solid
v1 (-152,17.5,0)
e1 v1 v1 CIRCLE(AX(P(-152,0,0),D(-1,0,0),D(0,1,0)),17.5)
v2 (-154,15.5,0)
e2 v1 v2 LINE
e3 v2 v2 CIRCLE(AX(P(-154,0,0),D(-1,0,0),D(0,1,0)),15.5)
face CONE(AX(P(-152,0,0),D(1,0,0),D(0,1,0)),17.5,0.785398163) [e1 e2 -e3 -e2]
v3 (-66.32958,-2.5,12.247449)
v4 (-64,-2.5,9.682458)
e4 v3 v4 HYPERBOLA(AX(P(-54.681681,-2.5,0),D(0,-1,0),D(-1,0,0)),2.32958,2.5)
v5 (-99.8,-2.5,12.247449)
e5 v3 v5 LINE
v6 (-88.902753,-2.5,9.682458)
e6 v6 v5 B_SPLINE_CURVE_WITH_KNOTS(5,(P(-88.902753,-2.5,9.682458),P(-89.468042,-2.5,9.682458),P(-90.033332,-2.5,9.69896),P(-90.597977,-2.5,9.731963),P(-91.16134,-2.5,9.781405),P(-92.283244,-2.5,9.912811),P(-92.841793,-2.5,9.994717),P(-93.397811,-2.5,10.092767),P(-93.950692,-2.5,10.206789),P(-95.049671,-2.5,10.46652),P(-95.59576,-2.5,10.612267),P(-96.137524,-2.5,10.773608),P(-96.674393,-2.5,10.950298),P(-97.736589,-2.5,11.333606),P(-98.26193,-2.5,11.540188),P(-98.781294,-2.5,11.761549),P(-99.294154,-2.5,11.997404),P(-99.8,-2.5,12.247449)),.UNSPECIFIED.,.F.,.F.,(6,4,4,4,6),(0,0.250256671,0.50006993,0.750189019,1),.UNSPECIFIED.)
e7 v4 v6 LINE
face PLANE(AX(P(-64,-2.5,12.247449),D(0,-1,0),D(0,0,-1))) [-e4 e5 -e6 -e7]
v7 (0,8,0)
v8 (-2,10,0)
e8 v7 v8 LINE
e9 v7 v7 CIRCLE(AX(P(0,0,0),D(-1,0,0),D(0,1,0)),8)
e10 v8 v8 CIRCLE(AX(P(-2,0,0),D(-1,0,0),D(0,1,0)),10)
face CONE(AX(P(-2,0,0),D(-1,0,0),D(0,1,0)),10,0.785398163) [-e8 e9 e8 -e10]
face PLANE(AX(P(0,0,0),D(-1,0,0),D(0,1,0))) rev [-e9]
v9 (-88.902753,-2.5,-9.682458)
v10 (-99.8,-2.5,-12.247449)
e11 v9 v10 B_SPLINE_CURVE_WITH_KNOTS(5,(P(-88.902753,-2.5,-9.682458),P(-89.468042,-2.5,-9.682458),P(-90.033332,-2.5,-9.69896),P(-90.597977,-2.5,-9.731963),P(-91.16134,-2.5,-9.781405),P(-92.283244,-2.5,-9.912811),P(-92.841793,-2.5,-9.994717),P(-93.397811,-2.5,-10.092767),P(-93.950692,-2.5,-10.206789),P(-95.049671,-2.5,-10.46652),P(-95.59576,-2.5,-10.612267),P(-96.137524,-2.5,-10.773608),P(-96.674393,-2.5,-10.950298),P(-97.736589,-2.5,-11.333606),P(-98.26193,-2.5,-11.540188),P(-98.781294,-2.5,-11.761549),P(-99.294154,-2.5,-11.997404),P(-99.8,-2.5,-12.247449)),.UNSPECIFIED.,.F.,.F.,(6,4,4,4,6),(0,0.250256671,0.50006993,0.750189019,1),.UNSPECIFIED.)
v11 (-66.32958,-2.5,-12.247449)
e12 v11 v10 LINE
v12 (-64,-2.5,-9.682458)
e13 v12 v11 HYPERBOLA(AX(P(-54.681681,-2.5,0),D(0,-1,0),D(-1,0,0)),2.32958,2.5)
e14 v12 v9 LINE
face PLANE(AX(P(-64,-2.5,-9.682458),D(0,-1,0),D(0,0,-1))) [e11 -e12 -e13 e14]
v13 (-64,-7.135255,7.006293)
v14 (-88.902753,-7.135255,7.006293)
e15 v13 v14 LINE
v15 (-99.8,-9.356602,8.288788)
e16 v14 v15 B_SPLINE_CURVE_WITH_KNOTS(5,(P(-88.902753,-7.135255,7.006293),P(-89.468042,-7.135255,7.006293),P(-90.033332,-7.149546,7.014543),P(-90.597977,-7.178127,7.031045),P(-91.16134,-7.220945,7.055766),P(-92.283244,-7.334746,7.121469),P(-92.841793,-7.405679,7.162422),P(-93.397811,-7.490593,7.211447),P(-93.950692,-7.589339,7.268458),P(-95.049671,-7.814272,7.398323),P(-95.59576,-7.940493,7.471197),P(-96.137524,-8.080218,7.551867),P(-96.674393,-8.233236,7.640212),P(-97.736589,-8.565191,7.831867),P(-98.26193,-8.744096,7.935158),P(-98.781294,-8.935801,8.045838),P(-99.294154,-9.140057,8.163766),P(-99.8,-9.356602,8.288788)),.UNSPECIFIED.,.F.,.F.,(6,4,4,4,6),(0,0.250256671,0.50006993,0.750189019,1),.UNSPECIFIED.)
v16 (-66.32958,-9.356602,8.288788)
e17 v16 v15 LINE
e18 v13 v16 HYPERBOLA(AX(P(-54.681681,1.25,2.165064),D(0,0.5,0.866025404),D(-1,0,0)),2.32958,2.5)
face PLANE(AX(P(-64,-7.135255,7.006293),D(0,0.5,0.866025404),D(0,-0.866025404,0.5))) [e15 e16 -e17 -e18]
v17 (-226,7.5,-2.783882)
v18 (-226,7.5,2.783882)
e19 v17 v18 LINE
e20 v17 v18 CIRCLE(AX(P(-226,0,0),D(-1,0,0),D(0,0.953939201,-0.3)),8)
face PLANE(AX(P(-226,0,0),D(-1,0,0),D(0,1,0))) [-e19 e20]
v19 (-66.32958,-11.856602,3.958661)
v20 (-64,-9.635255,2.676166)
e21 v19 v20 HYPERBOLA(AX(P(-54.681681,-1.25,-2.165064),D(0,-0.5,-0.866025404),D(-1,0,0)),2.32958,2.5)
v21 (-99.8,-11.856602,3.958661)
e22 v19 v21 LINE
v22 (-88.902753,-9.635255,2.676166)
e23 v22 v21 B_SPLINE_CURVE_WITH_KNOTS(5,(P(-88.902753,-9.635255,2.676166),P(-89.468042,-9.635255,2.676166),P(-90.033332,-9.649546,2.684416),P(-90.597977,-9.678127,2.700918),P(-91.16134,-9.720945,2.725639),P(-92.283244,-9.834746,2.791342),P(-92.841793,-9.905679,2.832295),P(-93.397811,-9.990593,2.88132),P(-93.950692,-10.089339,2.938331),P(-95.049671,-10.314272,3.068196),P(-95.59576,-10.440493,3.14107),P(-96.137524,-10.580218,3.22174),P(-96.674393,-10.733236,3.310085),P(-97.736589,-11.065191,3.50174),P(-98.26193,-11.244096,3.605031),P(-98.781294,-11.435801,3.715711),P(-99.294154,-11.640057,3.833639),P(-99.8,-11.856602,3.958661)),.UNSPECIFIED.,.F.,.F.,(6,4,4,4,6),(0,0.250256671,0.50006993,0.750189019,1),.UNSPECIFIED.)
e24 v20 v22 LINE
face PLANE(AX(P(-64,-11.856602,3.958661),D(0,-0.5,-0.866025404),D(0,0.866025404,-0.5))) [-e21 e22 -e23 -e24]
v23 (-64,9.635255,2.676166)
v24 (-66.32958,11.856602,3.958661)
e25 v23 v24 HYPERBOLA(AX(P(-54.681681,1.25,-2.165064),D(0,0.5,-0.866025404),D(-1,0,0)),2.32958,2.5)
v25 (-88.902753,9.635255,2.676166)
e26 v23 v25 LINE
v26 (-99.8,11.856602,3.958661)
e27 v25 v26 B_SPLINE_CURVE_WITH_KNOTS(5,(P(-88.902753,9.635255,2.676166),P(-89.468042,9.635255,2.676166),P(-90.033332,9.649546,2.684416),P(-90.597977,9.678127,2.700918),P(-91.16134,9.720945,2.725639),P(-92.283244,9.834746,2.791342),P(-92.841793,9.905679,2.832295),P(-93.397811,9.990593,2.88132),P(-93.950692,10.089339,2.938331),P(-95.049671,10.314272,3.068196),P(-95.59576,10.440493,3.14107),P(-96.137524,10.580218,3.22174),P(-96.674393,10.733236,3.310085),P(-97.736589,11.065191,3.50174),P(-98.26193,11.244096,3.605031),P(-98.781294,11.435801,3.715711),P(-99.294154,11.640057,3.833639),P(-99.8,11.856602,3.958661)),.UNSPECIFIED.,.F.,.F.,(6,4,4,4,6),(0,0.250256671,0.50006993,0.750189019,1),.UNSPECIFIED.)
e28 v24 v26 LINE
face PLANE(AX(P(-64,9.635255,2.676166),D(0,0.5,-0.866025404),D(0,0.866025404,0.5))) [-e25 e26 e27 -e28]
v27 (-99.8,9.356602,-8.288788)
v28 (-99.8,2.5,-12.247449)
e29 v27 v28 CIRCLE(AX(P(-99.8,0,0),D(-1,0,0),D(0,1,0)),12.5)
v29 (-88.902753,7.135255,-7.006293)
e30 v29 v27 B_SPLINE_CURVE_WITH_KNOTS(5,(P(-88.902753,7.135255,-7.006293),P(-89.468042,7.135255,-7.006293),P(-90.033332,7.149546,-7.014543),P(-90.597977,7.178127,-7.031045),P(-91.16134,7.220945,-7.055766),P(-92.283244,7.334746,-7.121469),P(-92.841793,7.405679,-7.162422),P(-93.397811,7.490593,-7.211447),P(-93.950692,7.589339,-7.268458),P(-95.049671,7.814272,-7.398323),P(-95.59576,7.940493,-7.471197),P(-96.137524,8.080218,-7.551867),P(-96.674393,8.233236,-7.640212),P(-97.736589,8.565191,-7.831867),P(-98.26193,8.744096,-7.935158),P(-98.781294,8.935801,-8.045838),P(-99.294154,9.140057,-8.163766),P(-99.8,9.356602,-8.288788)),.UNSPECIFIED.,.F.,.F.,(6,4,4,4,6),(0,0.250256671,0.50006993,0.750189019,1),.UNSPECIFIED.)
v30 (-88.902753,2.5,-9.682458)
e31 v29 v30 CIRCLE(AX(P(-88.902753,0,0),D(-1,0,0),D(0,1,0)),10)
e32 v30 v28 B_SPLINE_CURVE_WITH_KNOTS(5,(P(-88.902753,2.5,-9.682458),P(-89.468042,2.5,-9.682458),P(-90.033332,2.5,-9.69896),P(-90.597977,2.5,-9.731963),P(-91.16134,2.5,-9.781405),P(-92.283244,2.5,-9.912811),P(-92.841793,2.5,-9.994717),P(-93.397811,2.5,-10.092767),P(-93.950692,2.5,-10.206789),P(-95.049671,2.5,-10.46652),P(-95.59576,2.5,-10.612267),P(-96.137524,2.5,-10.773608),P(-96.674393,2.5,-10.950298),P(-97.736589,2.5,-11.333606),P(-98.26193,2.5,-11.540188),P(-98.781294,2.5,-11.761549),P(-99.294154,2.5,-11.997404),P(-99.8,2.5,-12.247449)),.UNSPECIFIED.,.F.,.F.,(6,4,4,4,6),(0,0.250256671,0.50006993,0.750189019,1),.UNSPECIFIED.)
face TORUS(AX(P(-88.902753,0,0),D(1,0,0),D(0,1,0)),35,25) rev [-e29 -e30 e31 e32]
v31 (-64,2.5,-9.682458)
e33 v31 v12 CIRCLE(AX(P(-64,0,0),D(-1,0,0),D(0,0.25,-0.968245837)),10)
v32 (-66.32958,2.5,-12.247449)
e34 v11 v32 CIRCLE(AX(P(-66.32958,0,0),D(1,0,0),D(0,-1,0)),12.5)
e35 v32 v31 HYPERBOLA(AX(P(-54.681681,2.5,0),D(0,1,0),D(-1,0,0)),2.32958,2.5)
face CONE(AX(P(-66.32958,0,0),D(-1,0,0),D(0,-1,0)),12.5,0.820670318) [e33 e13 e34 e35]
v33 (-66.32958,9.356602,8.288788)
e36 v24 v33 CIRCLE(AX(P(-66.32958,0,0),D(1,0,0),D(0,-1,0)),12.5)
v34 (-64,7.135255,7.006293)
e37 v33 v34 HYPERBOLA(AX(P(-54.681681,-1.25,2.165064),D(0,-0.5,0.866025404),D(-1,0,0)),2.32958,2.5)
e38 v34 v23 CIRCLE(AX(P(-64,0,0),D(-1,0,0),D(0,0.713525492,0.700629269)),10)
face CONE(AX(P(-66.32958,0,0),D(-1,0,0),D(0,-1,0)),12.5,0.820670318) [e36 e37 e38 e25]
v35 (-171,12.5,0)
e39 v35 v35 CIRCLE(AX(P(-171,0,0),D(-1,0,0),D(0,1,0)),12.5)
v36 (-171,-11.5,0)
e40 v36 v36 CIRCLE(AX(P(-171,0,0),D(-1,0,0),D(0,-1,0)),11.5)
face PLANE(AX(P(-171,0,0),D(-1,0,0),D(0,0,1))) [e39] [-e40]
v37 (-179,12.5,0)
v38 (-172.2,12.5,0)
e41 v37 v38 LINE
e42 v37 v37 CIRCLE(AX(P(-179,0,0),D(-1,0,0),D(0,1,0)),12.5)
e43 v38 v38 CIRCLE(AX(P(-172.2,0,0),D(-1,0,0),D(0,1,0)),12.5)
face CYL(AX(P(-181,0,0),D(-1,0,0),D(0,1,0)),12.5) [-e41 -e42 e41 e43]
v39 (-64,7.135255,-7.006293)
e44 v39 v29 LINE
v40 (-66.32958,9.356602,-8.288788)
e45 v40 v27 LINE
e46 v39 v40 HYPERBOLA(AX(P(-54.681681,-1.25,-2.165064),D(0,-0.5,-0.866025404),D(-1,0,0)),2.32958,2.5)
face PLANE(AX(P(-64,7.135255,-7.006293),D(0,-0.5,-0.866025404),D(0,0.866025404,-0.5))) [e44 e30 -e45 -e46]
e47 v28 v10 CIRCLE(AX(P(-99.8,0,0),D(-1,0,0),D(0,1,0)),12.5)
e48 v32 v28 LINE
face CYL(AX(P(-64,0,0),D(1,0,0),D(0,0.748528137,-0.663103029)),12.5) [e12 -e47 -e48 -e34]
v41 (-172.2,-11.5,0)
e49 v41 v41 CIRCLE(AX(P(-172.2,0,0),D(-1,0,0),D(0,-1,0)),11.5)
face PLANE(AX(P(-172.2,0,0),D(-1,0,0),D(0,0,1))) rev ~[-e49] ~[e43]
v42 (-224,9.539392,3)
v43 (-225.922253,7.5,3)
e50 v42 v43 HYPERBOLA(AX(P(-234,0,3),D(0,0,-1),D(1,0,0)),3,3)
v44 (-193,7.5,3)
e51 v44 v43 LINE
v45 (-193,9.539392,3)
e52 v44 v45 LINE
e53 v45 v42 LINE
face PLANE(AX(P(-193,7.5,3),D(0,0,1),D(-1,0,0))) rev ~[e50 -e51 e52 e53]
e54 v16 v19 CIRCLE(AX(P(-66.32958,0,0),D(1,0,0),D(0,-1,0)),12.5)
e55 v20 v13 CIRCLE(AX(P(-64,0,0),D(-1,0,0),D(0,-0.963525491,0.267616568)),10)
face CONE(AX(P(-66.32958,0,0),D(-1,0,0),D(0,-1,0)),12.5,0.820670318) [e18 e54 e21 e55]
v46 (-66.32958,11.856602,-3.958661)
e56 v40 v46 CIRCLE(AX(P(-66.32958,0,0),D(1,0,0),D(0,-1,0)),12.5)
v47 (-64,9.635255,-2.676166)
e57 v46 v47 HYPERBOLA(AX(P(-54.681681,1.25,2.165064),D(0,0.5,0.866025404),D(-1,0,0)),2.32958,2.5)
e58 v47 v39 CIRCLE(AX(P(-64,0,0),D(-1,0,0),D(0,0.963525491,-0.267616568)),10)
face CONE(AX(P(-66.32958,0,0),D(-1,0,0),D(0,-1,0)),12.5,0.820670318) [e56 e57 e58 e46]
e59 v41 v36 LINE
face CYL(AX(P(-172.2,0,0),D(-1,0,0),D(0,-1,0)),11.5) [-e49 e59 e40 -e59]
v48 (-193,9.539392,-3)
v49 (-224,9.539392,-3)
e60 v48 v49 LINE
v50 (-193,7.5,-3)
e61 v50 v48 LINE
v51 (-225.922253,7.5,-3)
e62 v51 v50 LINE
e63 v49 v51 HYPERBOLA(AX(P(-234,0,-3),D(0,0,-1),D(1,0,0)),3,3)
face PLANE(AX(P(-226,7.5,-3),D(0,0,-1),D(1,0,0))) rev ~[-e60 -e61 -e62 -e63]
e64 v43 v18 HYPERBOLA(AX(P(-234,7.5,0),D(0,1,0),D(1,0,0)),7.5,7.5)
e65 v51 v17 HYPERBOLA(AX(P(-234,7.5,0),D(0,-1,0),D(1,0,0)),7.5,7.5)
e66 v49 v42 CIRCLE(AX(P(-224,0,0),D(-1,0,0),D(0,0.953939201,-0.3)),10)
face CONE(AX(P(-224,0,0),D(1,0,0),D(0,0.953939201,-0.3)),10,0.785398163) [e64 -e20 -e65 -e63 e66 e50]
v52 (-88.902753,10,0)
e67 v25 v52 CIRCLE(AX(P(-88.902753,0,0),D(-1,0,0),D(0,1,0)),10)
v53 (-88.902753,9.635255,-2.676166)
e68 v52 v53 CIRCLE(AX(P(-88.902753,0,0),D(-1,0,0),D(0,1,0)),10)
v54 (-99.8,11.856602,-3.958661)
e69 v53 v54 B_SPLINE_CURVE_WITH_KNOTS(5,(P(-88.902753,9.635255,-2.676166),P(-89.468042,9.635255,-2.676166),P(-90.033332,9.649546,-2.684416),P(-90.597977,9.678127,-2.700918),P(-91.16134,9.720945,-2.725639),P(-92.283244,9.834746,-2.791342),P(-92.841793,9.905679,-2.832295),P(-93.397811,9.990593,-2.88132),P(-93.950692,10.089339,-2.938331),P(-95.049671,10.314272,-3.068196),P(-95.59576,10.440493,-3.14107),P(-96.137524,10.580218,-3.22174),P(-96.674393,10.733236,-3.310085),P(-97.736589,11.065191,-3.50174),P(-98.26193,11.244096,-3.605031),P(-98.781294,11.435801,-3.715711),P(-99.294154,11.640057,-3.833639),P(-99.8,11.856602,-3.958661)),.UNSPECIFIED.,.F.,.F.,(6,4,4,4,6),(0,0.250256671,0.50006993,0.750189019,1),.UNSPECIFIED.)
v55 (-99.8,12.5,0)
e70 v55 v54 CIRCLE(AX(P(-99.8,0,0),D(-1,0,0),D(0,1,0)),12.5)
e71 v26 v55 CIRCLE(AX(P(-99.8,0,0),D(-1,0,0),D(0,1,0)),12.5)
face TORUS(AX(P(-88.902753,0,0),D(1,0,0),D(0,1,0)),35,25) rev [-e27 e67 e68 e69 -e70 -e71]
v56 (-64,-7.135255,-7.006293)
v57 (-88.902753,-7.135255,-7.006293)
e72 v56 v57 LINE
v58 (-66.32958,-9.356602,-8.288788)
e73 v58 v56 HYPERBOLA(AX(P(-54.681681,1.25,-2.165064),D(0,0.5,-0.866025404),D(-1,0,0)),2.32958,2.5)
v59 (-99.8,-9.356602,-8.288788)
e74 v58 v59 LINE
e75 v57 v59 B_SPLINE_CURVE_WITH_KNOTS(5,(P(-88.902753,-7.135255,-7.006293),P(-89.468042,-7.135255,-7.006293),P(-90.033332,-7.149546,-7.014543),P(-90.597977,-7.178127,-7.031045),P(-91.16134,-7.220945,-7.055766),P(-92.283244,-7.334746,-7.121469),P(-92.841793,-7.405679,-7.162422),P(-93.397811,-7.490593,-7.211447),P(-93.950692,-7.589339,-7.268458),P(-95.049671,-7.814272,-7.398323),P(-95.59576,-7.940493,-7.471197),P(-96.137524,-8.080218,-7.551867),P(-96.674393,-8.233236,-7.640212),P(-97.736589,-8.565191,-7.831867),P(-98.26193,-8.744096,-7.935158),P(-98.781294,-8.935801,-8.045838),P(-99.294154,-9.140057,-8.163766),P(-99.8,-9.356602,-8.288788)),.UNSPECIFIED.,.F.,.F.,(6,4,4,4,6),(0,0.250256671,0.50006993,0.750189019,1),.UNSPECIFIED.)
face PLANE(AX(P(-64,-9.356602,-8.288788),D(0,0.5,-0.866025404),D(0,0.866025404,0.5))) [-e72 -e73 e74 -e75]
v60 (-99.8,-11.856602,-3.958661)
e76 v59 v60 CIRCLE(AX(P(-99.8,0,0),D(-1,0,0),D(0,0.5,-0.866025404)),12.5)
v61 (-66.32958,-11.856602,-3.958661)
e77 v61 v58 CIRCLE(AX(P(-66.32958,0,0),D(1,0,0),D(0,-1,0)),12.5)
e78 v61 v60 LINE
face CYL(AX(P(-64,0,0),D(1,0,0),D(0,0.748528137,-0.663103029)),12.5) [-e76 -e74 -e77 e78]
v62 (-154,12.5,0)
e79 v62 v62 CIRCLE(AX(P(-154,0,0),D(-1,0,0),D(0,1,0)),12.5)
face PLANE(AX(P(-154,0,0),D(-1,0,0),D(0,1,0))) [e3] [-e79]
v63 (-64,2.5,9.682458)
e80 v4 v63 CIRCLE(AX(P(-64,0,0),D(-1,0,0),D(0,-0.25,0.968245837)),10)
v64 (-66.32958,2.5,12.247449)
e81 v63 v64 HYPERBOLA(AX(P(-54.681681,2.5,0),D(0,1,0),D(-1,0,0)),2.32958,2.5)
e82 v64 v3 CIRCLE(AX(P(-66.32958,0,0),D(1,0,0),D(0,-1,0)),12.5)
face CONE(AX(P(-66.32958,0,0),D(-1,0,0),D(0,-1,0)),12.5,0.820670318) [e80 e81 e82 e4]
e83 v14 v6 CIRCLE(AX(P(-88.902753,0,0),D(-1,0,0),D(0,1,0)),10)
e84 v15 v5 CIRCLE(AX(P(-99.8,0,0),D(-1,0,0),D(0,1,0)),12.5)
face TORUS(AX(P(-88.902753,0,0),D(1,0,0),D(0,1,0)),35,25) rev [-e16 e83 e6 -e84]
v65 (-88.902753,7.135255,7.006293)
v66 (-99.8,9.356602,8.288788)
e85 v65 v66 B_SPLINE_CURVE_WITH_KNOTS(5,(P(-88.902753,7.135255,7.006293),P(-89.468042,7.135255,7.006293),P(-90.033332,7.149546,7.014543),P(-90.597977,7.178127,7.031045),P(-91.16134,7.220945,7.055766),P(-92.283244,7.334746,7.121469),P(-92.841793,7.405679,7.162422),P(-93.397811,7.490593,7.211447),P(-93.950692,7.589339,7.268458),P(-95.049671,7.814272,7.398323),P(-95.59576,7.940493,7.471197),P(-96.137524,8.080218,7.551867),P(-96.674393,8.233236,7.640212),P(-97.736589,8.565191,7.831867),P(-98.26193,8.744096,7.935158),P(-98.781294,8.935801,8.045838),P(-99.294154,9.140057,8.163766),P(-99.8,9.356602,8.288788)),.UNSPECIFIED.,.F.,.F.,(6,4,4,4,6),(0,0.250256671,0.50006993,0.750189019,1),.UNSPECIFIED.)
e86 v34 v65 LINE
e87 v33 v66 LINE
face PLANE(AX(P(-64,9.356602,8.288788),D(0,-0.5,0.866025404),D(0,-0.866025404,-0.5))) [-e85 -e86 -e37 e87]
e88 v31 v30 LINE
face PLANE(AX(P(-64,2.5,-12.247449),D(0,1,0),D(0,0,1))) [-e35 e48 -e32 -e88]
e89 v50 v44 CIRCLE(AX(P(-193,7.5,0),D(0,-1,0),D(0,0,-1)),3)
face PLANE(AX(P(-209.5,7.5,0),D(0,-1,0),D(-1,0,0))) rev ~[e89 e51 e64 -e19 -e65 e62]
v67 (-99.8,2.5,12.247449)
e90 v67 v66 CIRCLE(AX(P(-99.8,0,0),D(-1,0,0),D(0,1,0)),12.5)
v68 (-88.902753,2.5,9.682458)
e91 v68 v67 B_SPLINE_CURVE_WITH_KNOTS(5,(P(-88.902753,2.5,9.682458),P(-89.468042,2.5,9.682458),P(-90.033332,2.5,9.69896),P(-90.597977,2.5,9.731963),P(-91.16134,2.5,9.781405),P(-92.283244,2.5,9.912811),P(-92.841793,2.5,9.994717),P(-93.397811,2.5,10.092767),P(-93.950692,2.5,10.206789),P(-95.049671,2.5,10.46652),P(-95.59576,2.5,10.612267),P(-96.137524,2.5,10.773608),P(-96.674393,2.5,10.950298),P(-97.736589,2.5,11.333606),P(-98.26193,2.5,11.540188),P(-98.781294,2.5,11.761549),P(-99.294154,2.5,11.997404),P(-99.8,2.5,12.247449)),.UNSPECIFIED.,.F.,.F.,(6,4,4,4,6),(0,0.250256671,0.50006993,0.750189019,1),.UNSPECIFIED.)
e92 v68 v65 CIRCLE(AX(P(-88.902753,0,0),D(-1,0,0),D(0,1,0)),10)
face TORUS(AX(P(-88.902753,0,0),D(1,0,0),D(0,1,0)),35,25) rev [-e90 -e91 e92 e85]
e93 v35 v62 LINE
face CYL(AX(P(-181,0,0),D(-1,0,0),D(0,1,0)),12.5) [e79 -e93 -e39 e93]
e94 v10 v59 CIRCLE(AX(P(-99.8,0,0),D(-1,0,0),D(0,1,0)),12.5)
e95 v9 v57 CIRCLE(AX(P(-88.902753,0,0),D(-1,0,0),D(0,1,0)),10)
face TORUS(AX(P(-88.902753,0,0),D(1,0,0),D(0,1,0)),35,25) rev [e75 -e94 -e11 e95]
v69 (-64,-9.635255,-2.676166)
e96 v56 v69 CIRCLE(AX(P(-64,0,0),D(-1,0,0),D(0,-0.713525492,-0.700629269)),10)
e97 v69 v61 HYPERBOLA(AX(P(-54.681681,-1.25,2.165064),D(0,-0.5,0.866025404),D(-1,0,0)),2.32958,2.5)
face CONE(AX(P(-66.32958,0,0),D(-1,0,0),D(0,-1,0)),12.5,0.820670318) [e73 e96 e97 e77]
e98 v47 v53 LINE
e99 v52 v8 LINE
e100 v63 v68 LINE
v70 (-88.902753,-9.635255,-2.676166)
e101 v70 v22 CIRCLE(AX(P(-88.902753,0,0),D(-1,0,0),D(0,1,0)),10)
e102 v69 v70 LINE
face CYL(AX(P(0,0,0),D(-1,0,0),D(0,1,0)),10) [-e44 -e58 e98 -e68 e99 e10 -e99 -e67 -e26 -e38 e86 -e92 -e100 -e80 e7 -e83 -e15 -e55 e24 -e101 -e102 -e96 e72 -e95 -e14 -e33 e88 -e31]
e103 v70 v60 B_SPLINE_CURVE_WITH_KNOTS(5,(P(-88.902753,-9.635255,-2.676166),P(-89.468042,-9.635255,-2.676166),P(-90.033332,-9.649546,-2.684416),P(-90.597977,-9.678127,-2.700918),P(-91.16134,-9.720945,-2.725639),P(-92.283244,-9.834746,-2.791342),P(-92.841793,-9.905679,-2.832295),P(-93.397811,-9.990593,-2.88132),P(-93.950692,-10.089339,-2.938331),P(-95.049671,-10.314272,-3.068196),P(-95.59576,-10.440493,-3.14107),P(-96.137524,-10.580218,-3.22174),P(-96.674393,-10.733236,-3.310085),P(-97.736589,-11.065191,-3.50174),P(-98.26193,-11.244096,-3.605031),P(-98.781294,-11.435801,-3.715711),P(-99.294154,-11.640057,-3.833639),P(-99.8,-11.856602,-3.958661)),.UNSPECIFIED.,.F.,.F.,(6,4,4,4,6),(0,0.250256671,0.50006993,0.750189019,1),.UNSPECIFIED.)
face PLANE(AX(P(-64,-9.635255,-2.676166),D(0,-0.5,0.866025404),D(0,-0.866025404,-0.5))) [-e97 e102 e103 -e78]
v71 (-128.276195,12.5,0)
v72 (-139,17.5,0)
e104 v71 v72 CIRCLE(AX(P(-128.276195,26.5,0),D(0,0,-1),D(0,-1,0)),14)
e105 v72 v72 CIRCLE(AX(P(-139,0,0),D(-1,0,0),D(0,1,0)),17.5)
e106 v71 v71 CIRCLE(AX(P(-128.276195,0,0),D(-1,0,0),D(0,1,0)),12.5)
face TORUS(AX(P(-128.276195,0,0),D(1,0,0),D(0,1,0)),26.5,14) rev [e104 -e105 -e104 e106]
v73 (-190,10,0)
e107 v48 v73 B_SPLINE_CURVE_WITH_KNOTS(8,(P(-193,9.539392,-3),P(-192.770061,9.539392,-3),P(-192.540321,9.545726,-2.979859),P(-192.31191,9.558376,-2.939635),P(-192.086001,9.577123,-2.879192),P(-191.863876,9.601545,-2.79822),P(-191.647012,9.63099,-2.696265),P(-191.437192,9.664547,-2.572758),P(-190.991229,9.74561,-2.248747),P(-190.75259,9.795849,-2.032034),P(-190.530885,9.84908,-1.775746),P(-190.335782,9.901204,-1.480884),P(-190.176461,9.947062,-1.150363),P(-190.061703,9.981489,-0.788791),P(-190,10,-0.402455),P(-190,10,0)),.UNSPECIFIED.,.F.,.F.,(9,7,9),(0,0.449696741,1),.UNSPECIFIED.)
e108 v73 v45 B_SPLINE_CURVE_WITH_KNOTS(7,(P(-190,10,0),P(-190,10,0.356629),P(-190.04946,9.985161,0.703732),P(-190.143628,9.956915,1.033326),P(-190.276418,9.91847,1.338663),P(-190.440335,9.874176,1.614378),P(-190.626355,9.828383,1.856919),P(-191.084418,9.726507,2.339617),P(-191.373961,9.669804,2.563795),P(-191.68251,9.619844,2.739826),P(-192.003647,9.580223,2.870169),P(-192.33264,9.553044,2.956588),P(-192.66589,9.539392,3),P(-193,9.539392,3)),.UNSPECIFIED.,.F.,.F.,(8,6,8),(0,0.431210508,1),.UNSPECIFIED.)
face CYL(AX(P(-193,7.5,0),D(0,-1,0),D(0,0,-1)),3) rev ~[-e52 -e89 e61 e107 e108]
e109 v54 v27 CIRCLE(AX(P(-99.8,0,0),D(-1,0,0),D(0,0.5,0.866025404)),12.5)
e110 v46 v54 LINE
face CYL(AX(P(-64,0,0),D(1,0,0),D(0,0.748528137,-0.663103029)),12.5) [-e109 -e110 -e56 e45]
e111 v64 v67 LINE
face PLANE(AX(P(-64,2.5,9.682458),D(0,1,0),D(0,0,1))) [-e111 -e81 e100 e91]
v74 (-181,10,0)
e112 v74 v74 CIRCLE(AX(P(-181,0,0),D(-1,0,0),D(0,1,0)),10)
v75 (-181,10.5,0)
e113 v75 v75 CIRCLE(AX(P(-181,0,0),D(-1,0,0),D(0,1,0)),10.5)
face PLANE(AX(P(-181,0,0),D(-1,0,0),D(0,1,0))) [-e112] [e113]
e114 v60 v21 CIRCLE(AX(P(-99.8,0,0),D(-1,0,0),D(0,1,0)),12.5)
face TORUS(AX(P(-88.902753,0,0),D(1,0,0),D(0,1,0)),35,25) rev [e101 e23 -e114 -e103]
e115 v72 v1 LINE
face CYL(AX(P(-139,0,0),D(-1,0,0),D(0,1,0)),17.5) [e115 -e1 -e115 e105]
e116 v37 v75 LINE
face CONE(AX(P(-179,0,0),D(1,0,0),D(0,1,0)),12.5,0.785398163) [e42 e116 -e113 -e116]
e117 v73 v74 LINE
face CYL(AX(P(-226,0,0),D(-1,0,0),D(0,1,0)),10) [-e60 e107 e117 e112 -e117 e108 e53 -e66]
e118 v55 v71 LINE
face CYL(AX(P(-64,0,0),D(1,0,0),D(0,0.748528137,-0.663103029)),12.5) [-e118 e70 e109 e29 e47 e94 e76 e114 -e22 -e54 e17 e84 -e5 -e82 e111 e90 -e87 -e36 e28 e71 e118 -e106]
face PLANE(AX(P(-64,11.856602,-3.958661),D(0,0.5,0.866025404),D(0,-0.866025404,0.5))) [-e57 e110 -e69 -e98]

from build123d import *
from build123d.topology import SkipClean

# Parameters (mm, degrees)
EXTRUDE_START            = 27
SKETCH_2_R               = 12.5
EXTRUDE_1_DEPTH          = 27
EXTRUDE_START_2          = 45
SKETCH_3_R               = 10
EXTRUDE_2_DEPTH          = 45
CUT_EXTRUDE_START        = -8.8
SKETCH_5_OUTSIDE_W       = 83.272
SKETCH_5_OUTSIDE_H       = 83.272
SKETCH_5_OUTSIDE_R       = 11.5
CUT_EXTRUDE_1_DEPTH      = 1.2
CUT_EXTRUDE_START_2      = 7.5
CUT_EXTRUDE_2_DEPTH      = 220.851050141
EXTRUDE_3_REACH          = 293.351
EXTRUDE_START_3          = -64
PATTERN_CIRCULAR_1_COUNT = 6
CHAMFER_1_SIZE           = 2


with BuildPart() as part:
    # 草图1 → 旋转1 (revolve)
    with BuildSketch(Plane.XY):
        with BuildLine():
            Line((0, 0), (0, 10))
            Line((0, 10), (-88.902752641, 10))
            ThreePointArc((-88.902752641, 10), (-94.492922585, 10.633014138), (-99.8, 12.5))
            Line((-99.8, 12.5), (-128.276194705, 12.5))
            ThreePointArc((-128.276194705, 12.5), (-134.192274488, 13.81142246), (-139, 17.5))
            Line((-139, 17.5), (-154, 17.5))
            Line((-154, 17.5), (-154, 0))
            Line((-154, 0), (0, 0))
        make_face()
    revolve(axis=Axis((0, 0, 0), (-1, 0, 0)))

    # 草图2 → 凸台-拉伸1 (add)
    with BuildSketch(Plane.ZY.offset(154).offset(EXTRUDE_START)):
        with Locations(Location((0, 0, 0), (0, 0, 90))):
            Circle(SKETCH_2_R)
    extrude(amount=-EXTRUDE_1_DEPTH)

    # 草图3 → 凸台-拉伸2 (add)
    with BuildSketch(Plane.ZY.offset(181).offset(EXTRUDE_START_2)):
        with Locations(Location((0, 0, 0), (0, 0, 90))):
            Circle(SKETCH_3_R)
    extrude(amount=-EXTRUDE_2_DEPTH)

    # 草图5 outside → 切除-拉伸1 (cut)
    with BuildSketch(Plane.ZY.offset(181).offset(CUT_EXTRUDE_START)):
        Rectangle(SKETCH_5_OUTSIDE_W, SKETCH_5_OUTSIDE_H)
        with Locations(Location((0, 0, 0), (0, 0, 270))):
            Circle(SKETCH_5_OUTSIDE_R, mode=Mode.SUBTRACT)
    extrude(amount=-CUT_EXTRUDE_1_DEPTH, mode=Mode.SUBTRACT)

    # 草图7 → 切除-拉伸2 (cut, through all)
    with BuildSketch(Plane(origin=(0, 0, 0), x_dir=(1, 0, 0), z_dir=(0, 1, 0)).offset(CUT_EXTRUDE_START_2)):
        with BuildLine():
            Line((-226, 3), (-193, 3))
            ThreePointArc((-193, 3), (-190, 0), (-193, -3))
            Line((-193, -3), (-226, -3))
            ThreePointArc((-226, -3), (-229, 0), (-226, 3))
        make_face()
    extrude(amount=CUT_EXTRUDE_2_DEPTH, mode=Mode.SUBTRACT)

    # 草图8 → 凸台-拉伸3 (add, up to next)
    with BuildSketch(Plane(origin=(0, 0, 0), x_dir=(0, 0, -1), z_dir=(1, 0, 0)).offset(EXTRUDE_START_3), mode=Mode.PRIVATE) as extrude_3_sk1:
        with BuildLine():
            Line((12.247448714, 2.5), (9.682458366, 2.5))
            ThreePointArc((9.682458366, 2.5), (10, 0), (9.682458366, -2.5))
            Line((9.682458366, -2.5), (12.247448714, -2.5))
            ThreePointArc((12.247448714, -2.5), (12.5, 0), (12.247448714, 2.5))
        make_face()
    extrude_3_tool1 = extrude(extrude_3_sk1.sketch, amount=-EXTRUDE_3_REACH, mode=Mode.PRIVATE) - part.part
    extrude_3 = extrude_3_tool1.solids().sort_by_distance((-64, 0, -11.154849))[0]
    add(extrude_3)

    # 阵列(圆周)1: 凸台-拉伸3 ×6 about axis
    with SkipClean():  # the faces are left unmerged after this step: merging them gives an invalid solid
        pattern_circular_1_axis = Axis((0, 0, 0), (1, 0, 0))
        for i in range(1, PATTERN_CIRCULAR_1_COUNT):
            add(extrude_3.rotate(pattern_circular_1_axis, i * 360 / PATTERN_CIRCULAR_1_COUNT))

    # 草图9 → 切除-旋转1 (revolve, cut)
    with BuildSketch(Plane(origin=(0, 0, 0), x_dir=(1, 0, 0), z_dir=(0, 1, 0)), mode=Mode.PRIVATE) as cut_revolve_1_sk:
        Polygon((-64, 10), (-64, 12.5), (-66.329579642, 12.5), align=None)
    revolve(cut_revolve_1_sk.sketch.rotate(Axis((0, 0, 0), (1, 0, 0)), 270), axis=Axis((0, 0, 0), (1, 0, 0)), mode=Mode.SUBTRACT)

    # 倒角1
    chamfer_1_edges = [part.edges().sort_by_distance(p)[0] for p in [
        (-226, -10, 0),
        (-181, -12.5, 0),
        (-154, -17.5, 0),
        (0, -10, 0),
    ]]
    chamfer(chamfer_1_edges, length=CHAMFER_1_SIZE)


solid = part.part
